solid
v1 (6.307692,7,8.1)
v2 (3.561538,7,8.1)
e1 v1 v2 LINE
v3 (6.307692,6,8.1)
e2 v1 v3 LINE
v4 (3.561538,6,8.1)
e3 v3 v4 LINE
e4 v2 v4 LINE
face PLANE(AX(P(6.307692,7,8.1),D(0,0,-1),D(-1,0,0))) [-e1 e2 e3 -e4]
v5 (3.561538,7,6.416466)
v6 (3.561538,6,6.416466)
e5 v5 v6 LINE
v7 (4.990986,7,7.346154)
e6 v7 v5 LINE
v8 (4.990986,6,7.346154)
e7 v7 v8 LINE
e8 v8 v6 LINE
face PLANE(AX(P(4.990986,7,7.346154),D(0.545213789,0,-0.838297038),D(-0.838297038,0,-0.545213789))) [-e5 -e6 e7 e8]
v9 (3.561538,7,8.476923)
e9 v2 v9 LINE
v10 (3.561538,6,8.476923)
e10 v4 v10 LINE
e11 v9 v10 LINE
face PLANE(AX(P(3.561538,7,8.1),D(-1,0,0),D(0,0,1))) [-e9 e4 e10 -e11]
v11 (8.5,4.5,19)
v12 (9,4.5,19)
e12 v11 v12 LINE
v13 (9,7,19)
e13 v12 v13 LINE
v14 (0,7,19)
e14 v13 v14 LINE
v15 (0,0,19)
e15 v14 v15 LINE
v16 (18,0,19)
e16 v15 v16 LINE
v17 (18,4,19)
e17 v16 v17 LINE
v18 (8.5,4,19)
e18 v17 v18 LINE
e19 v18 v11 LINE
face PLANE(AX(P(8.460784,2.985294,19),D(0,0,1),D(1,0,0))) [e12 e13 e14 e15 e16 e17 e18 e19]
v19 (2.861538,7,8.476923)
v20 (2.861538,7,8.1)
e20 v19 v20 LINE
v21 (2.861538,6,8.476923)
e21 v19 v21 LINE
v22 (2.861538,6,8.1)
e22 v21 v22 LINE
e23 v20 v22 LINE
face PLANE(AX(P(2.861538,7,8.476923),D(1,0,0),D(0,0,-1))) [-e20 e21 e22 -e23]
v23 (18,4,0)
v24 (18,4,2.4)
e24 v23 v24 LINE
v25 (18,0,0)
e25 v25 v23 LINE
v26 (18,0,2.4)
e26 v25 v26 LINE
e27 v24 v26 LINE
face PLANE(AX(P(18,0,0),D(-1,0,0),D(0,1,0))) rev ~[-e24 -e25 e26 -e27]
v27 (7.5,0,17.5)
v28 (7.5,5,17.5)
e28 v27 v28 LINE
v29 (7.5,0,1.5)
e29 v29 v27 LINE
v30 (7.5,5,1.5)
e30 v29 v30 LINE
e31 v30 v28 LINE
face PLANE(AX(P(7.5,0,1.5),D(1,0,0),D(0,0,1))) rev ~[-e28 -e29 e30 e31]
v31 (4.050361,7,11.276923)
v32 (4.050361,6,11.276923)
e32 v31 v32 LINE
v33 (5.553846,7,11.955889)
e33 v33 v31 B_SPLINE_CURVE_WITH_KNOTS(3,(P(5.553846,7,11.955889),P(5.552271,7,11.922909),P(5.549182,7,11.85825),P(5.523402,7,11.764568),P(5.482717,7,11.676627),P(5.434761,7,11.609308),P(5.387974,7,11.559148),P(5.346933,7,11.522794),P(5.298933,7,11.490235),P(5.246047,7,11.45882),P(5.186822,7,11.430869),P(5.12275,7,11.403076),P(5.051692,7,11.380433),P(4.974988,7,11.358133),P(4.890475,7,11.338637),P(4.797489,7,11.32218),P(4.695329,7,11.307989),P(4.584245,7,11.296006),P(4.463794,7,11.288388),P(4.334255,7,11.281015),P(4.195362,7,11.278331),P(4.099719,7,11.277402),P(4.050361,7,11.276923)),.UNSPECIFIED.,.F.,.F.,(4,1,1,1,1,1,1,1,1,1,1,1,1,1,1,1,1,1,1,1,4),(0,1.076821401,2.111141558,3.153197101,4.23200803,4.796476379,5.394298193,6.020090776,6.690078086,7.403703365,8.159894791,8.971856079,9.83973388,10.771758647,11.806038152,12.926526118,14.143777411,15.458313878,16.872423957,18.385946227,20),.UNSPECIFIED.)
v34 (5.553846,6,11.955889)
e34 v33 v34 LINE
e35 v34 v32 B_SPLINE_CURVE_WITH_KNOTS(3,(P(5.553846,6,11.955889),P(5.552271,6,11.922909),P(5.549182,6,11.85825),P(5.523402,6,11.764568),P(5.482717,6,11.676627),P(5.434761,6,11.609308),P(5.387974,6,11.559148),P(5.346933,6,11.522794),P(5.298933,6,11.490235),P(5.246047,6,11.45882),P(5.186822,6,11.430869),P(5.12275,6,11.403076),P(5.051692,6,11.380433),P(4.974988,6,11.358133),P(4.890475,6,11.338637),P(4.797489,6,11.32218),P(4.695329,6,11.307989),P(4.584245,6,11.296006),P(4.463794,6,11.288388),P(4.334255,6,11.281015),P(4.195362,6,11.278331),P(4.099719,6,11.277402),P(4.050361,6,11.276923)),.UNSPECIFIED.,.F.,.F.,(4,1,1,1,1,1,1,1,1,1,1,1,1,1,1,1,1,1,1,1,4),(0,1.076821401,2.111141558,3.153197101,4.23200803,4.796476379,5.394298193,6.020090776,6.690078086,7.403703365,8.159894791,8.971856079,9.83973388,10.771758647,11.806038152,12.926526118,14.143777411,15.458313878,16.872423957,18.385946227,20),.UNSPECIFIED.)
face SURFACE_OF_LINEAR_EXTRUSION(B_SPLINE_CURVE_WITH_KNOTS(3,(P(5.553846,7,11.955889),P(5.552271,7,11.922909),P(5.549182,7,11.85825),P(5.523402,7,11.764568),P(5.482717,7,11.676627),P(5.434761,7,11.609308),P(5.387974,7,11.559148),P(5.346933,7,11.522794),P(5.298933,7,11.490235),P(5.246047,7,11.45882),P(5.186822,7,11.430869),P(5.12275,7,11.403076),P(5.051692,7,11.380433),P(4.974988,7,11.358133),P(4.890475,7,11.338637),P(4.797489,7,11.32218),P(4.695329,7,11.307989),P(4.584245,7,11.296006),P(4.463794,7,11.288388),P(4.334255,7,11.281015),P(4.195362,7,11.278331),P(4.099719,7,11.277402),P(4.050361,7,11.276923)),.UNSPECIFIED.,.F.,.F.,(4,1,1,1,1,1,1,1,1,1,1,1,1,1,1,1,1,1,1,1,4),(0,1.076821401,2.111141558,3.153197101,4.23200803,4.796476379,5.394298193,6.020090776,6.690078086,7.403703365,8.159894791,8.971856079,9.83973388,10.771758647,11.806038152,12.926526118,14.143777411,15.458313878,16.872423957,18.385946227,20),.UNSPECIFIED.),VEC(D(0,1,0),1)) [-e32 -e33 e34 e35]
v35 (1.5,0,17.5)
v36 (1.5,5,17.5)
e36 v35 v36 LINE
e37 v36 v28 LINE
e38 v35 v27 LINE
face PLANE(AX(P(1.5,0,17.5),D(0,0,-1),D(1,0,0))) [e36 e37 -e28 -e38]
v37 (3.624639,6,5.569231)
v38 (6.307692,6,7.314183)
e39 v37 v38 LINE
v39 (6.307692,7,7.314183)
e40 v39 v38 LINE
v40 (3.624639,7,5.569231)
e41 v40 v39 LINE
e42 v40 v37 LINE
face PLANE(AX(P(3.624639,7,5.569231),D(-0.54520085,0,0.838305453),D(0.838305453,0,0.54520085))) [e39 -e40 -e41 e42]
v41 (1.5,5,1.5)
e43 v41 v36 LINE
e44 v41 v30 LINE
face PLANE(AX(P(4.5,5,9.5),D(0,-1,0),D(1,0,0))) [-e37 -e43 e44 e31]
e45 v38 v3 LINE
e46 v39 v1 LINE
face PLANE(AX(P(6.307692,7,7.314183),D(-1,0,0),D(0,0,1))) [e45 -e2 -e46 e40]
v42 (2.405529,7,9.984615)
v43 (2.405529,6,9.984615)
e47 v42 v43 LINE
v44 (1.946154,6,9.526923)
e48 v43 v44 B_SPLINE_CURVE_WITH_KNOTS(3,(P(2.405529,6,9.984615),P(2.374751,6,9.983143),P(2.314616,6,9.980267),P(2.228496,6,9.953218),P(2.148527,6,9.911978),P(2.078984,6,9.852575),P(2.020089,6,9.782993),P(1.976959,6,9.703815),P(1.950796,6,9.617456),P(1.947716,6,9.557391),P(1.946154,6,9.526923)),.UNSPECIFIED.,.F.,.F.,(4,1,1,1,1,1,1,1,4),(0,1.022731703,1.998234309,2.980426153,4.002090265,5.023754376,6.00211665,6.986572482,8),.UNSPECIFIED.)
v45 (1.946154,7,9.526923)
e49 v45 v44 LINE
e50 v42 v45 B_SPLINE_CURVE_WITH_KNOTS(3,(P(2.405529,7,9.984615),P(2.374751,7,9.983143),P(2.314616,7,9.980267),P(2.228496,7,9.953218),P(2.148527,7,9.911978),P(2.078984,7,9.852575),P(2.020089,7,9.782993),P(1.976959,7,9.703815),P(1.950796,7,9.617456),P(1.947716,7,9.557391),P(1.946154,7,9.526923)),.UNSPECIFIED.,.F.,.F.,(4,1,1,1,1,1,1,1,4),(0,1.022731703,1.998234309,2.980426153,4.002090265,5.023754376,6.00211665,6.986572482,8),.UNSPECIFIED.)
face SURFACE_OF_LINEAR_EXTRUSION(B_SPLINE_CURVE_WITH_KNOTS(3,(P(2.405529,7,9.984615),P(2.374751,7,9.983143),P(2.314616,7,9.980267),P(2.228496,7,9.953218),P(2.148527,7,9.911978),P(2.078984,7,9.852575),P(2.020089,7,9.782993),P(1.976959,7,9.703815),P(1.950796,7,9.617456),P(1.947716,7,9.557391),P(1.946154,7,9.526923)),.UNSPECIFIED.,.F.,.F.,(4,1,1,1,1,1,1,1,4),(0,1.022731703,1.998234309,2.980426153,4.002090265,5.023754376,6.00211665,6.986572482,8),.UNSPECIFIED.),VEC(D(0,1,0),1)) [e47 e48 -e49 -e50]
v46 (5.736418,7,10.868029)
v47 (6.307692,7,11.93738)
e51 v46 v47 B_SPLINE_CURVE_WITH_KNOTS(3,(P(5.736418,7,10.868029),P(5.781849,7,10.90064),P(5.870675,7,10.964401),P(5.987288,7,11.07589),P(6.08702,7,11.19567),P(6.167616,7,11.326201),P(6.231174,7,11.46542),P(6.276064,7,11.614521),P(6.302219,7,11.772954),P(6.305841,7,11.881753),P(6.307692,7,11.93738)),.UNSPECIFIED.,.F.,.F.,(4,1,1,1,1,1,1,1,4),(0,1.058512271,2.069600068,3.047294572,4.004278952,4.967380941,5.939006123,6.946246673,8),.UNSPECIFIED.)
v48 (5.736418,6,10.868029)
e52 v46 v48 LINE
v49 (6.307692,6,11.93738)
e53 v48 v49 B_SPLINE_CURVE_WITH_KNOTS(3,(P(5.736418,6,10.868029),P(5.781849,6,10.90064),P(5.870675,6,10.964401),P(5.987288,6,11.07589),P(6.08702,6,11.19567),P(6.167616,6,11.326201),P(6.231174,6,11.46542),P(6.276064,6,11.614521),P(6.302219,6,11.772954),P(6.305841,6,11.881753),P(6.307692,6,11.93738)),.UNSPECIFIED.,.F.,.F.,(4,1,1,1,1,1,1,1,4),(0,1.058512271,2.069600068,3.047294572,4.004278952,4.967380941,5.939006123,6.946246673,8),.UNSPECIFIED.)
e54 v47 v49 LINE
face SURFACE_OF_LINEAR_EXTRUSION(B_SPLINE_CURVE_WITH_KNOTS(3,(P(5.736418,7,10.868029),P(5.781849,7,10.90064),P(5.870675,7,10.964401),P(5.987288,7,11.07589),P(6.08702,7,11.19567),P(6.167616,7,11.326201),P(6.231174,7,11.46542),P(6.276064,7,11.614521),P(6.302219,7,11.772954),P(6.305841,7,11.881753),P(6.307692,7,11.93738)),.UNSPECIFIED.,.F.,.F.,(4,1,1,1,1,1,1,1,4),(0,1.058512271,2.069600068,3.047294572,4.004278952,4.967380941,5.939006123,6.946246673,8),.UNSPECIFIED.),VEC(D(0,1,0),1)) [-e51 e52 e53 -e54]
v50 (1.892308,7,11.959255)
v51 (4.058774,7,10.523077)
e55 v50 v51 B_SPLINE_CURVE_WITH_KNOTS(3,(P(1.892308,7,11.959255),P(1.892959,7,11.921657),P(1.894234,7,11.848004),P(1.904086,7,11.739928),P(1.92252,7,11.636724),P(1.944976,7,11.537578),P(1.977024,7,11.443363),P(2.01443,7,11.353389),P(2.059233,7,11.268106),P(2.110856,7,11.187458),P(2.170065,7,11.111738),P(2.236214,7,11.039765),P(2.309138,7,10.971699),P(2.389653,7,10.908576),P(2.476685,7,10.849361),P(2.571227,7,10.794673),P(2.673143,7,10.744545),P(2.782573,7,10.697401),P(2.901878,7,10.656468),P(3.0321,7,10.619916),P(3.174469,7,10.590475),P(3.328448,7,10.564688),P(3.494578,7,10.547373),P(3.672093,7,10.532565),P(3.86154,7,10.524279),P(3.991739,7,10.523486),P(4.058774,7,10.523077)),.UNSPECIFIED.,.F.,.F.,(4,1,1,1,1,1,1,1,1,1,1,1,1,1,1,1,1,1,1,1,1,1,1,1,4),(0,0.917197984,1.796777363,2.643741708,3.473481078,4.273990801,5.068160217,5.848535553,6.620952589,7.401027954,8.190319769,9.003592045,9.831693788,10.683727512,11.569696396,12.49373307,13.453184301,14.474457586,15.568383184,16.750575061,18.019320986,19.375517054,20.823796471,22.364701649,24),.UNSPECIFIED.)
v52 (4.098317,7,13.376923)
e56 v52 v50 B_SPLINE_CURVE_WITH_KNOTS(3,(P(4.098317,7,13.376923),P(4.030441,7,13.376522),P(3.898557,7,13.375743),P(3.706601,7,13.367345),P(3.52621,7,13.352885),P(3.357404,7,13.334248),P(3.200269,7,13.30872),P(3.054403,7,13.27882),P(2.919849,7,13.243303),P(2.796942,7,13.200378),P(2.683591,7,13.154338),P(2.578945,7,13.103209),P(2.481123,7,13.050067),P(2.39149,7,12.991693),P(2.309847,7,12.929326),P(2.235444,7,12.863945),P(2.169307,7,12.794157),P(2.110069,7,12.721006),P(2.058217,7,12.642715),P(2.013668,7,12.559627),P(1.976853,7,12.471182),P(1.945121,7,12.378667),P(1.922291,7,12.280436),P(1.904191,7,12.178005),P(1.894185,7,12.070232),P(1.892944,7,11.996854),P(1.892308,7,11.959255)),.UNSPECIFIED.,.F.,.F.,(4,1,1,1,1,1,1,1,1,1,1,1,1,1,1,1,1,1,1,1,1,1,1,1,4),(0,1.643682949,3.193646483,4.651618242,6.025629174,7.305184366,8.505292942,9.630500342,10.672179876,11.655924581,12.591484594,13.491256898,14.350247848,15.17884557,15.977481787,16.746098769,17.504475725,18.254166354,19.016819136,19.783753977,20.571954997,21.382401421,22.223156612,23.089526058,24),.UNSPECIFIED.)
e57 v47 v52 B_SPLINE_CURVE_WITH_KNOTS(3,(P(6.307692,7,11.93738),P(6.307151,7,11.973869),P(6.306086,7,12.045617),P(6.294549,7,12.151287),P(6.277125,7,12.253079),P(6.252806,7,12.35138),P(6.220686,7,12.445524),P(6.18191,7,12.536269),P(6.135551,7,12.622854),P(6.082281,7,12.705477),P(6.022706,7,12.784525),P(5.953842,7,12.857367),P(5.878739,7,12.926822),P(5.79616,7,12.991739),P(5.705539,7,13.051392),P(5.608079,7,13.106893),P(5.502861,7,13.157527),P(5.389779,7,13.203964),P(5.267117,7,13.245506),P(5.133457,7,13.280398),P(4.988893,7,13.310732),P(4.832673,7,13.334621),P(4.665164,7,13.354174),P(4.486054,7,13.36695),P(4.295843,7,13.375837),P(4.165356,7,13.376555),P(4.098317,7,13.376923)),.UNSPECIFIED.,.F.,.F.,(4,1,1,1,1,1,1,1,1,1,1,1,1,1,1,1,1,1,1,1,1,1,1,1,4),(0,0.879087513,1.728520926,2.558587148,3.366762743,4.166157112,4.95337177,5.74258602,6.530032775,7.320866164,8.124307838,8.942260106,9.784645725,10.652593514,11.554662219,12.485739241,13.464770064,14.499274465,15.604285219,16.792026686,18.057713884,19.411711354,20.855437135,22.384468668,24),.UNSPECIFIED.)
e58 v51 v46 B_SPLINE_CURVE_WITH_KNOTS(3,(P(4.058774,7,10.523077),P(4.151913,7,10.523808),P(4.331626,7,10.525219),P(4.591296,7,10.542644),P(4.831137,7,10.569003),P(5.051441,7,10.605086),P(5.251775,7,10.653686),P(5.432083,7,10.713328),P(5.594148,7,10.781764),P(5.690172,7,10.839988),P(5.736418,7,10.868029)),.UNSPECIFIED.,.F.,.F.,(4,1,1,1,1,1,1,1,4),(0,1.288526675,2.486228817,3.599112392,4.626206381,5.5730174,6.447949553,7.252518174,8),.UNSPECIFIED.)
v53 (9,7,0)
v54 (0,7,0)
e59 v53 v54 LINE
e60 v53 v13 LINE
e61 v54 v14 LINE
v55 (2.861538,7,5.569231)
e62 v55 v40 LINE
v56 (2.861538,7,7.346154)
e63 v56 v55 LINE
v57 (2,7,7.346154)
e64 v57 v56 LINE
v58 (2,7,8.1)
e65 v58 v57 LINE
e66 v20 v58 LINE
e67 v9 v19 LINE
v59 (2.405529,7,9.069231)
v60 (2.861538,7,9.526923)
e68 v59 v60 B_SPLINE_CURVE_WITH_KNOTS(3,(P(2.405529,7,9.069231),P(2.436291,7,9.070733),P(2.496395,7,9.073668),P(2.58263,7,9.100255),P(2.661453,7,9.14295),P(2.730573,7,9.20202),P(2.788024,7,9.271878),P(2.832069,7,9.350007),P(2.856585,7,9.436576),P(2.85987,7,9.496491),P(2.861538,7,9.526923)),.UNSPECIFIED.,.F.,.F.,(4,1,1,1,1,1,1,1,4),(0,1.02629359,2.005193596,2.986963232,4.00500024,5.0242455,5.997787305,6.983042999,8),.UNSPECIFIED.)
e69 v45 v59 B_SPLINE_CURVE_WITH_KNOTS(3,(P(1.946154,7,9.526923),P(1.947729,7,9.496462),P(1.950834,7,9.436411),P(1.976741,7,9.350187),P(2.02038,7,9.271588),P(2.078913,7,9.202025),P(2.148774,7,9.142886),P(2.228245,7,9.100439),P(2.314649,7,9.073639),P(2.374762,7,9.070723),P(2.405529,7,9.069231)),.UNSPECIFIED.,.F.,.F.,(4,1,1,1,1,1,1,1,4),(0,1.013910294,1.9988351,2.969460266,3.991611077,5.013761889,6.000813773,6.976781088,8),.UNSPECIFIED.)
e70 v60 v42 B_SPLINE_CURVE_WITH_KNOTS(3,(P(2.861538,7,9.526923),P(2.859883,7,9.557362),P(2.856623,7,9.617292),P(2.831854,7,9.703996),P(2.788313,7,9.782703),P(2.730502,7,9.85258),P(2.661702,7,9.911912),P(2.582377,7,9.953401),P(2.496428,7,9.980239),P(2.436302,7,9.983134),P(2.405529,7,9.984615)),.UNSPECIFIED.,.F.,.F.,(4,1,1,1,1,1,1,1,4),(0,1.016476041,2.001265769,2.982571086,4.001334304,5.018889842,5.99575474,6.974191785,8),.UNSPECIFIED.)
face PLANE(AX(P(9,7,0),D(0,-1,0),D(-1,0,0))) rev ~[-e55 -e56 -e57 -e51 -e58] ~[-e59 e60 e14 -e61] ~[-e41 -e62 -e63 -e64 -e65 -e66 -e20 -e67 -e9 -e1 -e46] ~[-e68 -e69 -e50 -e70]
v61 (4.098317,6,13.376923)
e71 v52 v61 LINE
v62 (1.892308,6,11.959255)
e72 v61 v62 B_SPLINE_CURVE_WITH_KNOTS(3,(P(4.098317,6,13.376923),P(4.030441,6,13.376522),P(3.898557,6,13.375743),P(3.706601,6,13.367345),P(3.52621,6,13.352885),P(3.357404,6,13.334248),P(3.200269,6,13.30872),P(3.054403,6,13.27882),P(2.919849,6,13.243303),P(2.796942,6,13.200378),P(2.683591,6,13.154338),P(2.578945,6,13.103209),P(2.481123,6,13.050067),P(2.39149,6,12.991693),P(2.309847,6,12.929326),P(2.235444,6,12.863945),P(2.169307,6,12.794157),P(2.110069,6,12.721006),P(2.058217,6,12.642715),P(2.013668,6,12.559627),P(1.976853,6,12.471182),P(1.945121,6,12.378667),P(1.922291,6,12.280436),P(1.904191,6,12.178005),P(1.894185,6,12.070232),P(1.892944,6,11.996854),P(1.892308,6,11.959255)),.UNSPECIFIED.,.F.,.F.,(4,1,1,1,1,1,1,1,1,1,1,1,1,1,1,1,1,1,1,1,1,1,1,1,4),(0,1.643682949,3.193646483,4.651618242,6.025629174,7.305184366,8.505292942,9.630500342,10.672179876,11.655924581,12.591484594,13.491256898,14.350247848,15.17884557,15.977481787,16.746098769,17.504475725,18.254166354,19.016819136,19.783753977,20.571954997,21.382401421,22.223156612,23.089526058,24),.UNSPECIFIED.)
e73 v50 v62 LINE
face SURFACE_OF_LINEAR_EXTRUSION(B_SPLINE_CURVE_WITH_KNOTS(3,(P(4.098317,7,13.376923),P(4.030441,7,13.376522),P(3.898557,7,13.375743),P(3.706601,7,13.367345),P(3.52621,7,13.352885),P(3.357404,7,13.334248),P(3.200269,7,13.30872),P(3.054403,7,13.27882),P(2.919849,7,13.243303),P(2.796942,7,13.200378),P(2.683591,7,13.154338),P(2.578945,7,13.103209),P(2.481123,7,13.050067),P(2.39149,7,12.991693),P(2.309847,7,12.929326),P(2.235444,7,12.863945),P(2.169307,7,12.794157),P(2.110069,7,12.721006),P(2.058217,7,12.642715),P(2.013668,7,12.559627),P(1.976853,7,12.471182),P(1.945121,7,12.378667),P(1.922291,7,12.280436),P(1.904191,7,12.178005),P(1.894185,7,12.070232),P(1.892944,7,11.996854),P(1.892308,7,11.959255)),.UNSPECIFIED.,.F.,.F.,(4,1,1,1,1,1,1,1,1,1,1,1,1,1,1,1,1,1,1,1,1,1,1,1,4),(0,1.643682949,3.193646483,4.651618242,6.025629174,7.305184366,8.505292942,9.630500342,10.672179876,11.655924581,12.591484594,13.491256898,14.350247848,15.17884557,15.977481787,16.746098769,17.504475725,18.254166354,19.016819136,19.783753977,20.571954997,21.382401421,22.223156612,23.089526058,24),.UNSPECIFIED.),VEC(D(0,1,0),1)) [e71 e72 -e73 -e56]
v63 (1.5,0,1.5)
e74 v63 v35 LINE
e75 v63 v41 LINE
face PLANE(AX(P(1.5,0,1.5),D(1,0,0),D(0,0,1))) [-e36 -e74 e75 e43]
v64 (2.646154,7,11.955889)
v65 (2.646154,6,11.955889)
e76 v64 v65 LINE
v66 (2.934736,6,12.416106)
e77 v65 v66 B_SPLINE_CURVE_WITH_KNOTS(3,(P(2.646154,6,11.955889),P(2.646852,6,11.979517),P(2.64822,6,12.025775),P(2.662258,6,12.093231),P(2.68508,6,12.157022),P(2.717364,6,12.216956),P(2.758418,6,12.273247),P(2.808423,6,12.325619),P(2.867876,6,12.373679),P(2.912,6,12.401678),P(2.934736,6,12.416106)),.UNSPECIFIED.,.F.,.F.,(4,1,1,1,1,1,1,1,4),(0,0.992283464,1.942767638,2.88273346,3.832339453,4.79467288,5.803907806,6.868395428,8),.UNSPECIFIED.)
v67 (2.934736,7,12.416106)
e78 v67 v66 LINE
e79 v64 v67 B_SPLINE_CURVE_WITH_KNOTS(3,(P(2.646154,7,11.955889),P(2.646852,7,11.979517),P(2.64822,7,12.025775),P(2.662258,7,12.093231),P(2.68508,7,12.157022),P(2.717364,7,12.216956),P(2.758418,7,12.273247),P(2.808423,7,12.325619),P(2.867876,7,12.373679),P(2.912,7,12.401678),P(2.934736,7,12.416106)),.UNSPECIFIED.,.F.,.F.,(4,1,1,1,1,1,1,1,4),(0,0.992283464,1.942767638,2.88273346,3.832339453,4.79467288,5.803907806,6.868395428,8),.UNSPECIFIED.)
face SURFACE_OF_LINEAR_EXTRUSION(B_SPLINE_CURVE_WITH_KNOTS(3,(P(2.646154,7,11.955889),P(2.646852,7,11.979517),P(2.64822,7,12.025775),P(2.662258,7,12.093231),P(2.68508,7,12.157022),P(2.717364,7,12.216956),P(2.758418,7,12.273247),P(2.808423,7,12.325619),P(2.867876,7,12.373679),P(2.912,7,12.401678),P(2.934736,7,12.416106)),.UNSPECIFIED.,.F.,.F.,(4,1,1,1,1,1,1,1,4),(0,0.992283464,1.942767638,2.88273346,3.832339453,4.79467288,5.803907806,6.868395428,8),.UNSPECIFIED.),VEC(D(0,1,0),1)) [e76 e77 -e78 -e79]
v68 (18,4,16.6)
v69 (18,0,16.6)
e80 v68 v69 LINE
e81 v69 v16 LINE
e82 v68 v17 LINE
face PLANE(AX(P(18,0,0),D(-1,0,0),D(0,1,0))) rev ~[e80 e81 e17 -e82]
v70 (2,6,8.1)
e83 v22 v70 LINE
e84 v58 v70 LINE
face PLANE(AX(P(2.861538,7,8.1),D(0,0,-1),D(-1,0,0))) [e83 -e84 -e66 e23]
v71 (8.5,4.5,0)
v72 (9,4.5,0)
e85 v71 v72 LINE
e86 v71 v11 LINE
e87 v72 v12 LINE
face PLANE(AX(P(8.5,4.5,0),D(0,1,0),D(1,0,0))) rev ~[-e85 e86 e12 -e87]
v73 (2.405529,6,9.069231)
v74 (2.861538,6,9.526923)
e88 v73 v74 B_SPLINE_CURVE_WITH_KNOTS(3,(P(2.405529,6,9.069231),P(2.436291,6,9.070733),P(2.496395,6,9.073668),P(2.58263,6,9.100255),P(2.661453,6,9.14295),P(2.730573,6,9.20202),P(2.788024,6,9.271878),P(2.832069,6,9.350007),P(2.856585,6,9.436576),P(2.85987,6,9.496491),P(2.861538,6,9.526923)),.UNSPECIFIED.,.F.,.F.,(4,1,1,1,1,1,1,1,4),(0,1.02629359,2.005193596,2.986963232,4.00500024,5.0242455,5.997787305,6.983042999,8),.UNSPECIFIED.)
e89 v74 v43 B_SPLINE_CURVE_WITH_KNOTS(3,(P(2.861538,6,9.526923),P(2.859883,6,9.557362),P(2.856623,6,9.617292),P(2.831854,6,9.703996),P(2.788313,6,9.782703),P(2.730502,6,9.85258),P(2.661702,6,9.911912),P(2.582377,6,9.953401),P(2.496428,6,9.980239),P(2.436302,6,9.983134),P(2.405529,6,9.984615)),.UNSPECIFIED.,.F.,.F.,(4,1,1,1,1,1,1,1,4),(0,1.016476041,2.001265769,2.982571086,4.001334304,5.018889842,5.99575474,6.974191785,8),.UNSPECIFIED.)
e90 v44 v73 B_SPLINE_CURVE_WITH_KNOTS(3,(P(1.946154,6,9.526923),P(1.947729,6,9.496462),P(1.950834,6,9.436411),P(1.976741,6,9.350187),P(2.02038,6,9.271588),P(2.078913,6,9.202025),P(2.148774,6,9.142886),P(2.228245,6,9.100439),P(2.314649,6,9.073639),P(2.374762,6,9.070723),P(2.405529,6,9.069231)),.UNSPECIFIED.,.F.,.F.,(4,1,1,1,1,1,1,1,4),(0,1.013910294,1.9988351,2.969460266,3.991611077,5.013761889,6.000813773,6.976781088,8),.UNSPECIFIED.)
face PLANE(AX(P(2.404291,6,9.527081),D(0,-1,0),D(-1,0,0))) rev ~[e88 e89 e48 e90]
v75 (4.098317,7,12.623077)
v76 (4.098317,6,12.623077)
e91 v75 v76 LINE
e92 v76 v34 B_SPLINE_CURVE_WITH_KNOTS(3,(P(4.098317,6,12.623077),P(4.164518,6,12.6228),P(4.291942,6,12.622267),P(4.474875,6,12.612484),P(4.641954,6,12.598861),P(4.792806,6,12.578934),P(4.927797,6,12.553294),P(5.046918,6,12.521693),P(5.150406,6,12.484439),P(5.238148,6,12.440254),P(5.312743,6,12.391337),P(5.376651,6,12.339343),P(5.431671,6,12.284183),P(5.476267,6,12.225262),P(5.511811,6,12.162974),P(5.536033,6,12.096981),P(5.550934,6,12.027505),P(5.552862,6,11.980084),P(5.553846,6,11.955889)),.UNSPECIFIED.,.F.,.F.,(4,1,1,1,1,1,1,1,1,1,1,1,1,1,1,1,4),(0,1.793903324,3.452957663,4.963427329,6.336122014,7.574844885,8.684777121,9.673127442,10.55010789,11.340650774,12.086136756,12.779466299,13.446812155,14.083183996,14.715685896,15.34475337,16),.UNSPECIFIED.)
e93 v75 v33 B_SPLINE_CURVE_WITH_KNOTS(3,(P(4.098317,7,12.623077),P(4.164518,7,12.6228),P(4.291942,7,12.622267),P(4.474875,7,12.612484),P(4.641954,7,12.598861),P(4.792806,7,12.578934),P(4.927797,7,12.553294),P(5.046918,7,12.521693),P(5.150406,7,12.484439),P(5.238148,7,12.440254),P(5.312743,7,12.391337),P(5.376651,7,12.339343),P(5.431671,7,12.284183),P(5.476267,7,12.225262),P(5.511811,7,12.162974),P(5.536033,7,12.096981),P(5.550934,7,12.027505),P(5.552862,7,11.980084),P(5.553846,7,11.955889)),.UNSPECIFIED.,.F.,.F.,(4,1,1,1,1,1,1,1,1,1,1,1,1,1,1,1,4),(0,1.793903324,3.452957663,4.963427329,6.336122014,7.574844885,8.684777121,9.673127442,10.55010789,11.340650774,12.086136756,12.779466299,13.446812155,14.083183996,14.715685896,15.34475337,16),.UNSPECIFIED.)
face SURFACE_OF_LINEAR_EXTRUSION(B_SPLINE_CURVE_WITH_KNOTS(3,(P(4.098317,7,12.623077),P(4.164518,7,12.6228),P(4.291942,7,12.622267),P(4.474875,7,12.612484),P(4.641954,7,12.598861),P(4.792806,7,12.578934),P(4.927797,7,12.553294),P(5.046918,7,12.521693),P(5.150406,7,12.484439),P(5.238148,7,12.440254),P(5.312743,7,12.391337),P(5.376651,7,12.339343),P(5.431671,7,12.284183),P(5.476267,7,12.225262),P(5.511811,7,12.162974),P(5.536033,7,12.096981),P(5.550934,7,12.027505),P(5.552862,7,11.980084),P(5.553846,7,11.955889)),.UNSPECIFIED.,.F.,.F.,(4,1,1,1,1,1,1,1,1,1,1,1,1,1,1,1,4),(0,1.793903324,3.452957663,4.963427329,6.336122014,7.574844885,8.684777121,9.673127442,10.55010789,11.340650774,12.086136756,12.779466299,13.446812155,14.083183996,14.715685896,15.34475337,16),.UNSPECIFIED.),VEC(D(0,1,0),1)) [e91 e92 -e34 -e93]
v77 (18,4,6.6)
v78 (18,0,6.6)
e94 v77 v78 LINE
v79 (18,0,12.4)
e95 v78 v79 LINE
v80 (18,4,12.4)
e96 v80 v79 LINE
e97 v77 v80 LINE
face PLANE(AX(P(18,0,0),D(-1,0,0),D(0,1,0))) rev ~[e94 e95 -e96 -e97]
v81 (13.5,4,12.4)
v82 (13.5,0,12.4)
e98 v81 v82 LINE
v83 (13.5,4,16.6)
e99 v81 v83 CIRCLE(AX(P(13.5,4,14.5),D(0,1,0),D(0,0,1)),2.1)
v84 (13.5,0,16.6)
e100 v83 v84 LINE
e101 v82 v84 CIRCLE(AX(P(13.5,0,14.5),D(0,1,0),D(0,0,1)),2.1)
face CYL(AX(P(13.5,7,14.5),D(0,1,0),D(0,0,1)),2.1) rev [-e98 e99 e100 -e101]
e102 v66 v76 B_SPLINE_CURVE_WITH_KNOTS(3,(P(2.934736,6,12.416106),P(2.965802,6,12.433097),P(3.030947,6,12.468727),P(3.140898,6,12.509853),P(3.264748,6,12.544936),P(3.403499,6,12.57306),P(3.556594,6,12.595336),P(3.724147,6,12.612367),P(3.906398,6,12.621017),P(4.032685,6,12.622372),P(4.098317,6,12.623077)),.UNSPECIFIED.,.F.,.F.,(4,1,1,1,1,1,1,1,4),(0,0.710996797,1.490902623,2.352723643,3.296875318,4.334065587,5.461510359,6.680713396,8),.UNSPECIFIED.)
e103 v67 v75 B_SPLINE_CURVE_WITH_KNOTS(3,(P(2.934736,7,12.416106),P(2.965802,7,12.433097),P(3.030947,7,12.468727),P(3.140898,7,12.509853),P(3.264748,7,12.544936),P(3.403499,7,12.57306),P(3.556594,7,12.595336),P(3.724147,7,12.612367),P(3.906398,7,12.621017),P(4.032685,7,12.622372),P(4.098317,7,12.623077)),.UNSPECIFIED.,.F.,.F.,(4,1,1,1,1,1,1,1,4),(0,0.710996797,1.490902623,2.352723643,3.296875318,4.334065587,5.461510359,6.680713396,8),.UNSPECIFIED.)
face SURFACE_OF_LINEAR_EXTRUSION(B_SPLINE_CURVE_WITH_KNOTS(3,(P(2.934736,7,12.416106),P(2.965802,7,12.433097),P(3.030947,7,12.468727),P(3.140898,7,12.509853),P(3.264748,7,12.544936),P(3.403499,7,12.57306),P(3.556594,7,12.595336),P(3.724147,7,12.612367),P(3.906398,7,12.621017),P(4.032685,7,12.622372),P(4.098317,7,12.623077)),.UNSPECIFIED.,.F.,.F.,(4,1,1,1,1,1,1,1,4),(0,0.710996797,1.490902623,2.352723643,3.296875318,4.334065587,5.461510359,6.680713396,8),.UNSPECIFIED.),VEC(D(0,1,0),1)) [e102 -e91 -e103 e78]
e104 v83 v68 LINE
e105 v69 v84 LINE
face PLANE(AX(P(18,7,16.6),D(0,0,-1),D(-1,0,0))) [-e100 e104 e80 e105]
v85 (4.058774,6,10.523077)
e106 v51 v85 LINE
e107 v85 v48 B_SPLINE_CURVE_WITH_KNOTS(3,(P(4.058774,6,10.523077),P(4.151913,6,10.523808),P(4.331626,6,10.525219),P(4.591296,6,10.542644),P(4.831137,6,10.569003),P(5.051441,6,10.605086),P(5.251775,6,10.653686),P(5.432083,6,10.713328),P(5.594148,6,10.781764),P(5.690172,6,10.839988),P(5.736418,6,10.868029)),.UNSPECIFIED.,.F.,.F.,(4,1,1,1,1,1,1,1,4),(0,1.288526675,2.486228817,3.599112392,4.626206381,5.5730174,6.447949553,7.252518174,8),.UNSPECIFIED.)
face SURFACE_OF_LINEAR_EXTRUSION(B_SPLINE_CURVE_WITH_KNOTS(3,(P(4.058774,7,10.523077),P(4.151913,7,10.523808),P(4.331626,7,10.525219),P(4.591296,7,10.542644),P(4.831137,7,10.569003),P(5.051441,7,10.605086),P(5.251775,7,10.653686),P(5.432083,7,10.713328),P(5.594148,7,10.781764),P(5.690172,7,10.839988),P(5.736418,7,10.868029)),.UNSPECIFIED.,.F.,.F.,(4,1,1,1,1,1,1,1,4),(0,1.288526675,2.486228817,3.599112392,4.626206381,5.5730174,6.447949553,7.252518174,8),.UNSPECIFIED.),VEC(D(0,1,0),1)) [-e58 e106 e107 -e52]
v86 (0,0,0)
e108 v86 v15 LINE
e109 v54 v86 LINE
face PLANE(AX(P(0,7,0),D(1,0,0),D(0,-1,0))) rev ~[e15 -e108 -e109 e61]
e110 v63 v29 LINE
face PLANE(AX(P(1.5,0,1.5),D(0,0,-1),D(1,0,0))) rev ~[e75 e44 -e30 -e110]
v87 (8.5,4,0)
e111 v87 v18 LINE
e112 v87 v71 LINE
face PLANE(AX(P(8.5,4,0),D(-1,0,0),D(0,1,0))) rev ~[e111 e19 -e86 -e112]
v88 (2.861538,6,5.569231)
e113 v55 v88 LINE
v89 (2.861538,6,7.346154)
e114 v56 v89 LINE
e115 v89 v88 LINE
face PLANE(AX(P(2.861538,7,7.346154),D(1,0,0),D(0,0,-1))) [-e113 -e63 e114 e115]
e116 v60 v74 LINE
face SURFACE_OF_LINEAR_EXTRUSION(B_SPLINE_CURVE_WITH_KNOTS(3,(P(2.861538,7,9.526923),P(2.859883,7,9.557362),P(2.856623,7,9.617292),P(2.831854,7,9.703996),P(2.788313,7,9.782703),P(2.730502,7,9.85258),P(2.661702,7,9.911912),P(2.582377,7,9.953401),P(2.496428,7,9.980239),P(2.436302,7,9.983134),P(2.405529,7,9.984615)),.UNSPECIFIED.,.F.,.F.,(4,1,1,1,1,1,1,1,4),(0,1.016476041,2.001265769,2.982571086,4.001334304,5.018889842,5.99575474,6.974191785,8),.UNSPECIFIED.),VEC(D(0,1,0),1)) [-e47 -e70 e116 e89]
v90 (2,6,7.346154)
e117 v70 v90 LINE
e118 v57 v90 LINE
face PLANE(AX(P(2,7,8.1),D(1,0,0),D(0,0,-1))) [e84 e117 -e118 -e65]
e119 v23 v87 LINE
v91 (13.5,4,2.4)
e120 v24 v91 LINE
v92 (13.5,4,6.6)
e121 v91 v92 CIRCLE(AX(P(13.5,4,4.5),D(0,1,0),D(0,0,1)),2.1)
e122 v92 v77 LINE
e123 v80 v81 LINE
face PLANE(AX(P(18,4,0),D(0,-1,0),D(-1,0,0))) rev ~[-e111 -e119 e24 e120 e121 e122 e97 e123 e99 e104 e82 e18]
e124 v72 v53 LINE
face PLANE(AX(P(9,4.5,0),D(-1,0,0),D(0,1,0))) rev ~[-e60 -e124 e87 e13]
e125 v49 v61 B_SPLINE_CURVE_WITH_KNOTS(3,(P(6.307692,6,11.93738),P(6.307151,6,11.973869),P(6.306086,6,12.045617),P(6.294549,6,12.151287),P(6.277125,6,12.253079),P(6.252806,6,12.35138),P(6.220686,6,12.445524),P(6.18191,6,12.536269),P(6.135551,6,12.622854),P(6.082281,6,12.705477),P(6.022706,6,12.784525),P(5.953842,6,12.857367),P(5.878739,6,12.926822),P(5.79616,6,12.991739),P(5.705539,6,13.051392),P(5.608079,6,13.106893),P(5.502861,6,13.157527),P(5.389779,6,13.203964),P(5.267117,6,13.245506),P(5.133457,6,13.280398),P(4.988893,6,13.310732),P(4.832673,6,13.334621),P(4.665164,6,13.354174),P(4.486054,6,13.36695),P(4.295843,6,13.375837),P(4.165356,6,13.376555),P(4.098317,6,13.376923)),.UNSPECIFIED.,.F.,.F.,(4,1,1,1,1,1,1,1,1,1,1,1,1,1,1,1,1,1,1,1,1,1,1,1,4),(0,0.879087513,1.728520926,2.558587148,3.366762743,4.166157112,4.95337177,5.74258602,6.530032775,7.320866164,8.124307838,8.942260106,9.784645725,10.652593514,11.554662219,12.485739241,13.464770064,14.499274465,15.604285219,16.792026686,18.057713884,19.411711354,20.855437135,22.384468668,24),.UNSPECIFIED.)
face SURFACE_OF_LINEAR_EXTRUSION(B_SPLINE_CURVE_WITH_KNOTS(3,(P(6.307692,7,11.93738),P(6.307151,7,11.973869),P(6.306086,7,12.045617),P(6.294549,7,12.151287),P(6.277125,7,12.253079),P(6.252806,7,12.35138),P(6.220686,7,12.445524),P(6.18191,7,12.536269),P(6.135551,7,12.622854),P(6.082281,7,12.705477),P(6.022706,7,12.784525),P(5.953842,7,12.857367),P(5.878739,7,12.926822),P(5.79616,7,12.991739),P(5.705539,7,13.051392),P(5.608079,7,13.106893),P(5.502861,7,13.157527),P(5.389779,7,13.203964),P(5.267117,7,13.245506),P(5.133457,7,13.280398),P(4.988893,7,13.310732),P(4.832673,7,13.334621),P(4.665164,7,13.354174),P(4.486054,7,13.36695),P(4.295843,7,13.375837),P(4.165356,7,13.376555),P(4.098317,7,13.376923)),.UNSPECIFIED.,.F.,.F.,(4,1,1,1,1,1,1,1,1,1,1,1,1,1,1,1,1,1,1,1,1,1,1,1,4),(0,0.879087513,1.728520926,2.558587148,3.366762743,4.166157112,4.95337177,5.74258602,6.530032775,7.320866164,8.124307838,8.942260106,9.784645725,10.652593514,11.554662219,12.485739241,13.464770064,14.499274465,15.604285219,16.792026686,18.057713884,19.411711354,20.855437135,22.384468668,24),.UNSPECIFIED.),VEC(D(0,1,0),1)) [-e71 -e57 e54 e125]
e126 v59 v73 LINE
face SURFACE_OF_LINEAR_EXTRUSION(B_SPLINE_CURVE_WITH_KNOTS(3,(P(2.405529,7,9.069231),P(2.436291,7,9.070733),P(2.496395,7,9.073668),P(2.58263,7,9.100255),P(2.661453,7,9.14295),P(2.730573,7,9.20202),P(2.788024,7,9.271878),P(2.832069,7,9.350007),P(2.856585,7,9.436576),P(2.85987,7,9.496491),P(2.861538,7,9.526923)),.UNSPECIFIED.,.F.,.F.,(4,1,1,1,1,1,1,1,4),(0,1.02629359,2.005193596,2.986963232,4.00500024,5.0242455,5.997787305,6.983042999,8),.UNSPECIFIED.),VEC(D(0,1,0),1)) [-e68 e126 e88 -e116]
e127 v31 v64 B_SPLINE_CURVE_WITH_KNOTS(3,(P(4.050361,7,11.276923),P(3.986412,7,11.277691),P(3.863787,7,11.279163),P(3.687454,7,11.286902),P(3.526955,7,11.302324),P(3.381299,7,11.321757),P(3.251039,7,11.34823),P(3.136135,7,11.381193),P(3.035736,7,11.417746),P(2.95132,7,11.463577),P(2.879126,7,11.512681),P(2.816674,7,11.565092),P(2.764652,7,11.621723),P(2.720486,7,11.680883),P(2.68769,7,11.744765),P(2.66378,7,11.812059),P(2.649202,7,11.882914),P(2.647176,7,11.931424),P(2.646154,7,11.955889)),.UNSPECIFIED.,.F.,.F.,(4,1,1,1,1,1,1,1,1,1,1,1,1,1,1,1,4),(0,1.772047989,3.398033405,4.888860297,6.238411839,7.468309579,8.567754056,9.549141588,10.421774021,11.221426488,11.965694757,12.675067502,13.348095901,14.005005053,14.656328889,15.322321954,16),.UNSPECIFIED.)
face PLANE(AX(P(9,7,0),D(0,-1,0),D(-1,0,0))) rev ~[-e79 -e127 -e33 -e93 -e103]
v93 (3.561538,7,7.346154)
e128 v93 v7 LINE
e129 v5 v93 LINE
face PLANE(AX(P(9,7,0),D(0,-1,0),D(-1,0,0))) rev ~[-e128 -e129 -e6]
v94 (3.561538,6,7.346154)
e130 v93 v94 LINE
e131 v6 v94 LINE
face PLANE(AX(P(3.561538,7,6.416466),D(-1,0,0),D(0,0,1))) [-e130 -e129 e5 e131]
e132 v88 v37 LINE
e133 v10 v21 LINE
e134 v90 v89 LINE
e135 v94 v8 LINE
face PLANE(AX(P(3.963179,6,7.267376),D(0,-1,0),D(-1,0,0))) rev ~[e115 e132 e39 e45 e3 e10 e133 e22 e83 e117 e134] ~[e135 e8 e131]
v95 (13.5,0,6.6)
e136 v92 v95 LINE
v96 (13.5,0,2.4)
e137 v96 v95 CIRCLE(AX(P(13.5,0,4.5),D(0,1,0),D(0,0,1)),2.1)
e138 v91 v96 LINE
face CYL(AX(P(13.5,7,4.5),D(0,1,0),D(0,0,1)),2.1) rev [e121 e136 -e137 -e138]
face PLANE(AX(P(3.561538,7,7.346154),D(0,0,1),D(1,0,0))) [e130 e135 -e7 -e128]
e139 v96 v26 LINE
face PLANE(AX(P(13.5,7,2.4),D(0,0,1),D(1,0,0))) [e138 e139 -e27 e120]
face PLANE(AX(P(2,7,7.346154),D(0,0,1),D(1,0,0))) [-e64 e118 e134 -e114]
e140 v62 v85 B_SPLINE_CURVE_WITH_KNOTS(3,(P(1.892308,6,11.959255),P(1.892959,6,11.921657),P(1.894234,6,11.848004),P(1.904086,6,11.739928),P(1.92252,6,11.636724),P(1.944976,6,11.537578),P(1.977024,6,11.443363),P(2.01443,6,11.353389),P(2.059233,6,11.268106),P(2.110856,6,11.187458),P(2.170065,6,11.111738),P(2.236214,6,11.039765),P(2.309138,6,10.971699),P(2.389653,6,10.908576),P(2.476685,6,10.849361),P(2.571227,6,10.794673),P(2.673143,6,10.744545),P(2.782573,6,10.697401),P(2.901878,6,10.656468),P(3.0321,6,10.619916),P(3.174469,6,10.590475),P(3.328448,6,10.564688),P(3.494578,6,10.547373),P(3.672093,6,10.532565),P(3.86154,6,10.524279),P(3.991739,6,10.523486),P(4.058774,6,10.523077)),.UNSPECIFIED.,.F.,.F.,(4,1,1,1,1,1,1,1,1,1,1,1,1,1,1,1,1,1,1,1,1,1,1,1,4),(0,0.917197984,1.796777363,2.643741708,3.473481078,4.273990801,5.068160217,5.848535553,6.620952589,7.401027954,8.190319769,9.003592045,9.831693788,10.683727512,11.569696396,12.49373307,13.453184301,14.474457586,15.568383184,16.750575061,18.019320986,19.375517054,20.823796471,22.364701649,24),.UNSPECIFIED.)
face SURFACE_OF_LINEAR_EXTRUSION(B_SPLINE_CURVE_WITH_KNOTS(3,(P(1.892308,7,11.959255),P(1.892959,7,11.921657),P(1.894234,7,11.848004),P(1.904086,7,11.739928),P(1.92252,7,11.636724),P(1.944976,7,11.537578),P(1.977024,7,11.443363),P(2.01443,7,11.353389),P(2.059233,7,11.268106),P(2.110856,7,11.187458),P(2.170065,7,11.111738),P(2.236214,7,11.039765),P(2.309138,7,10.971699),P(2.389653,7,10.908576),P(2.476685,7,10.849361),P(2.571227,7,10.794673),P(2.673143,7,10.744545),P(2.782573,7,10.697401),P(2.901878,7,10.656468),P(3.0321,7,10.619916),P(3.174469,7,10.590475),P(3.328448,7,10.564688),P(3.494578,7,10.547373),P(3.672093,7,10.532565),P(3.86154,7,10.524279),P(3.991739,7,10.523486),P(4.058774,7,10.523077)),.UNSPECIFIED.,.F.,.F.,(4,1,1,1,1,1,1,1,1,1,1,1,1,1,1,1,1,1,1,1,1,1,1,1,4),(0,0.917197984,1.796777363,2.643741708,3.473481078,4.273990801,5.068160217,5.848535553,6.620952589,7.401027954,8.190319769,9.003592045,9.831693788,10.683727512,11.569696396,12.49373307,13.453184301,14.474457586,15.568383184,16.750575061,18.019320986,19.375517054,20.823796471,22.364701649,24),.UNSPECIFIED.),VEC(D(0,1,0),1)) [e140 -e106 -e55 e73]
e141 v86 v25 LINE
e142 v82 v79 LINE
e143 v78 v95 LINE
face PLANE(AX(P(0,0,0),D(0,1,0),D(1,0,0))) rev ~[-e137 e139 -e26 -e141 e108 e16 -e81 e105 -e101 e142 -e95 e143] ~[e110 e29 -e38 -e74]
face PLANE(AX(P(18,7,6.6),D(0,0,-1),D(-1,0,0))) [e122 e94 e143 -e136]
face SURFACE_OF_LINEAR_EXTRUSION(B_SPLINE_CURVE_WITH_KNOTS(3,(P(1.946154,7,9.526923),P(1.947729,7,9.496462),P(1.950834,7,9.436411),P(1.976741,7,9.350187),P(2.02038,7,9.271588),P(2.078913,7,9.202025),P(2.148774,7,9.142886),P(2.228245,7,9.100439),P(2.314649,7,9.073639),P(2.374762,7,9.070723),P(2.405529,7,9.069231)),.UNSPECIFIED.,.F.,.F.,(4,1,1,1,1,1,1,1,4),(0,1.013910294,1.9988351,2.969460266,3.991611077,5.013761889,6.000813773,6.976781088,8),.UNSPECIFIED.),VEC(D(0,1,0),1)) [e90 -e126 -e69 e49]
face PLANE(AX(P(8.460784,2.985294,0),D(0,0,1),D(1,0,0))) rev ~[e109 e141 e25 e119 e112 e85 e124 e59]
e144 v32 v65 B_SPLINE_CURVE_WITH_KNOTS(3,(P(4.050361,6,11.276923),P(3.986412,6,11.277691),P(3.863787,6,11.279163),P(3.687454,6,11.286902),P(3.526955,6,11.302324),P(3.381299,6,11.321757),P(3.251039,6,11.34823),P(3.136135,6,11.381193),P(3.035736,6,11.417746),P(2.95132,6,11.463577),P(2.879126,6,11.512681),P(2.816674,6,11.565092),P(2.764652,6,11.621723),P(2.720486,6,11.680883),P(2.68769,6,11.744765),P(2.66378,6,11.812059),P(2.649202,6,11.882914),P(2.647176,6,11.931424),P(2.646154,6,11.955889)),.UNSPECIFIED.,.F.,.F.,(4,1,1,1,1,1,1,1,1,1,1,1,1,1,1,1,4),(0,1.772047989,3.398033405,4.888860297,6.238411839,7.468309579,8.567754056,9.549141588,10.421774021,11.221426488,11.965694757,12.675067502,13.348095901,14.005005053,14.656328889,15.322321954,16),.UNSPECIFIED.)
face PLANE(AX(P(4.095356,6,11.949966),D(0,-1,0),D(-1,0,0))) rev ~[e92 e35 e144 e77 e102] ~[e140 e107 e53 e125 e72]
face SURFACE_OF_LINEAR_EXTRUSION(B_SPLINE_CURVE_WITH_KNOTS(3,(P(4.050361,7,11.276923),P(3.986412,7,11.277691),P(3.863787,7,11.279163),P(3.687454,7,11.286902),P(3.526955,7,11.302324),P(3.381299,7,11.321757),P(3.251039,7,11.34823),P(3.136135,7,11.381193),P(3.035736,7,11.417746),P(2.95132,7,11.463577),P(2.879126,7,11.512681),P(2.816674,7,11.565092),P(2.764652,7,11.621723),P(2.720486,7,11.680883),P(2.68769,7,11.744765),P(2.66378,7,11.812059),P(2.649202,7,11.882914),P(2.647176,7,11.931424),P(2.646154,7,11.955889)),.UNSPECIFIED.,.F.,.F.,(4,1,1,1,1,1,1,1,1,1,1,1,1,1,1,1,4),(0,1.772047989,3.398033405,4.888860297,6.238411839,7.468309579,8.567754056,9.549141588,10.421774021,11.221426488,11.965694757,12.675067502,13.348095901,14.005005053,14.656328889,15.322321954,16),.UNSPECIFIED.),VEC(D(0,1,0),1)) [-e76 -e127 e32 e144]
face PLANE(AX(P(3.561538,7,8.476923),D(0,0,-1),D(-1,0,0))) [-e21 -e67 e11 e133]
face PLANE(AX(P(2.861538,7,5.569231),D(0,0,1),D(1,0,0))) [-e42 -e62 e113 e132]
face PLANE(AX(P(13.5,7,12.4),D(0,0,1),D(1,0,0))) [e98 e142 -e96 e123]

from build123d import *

# Parameters (mm, degrees)
BOSS_EXTRUDE1_DEPTH = 19
CUT_EXTRUDE1_DEPTH  = 28.092434368
CUT_EXTRUDE2_DEPTH  = 1
SKETCH4_W           = 6
SKETCH4_H           = 16
CUT_EXTRUDE3_DEPTH  = 5


with BuildPart() as part:
    # Sketch1 → Boss-Extrude1 (new body)
    with BuildSketch(Plane.XY):
        Polygon((0, 0), (18, 0), (18, 4), (9, 4), (8.5, 4), (8.5, 4.5), (9, 4.5), (9, 7), (0, 7), align=None)
    extrude(amount=BOSS_EXTRUDE1_DEPTH)

    # Sketch2 → Cut-Extrude1 (cut, through all)
    with BuildSketch(Plane(origin=(0, 7, 0), x_dir=(1, 0, 0), z_dir=(0, 1, 0))):
        with BuildLine():
            Line((13.5, -2.4), (18, -2.4))
            Line((18, -2.4), (18, -6.6))
            Line((18, -6.6), (13.5, -6.6))
            ThreePointArc((13.5, -6.6), (11.4, -4.5), (13.5, -2.4))
        make_face()
        with BuildLine():
            Line((13.5, -12.4), (18, -12.4))
            Line((18, -12.4), (18, -16.6))
            Line((18, -16.6), (13.5, -16.6))
            ThreePointArc((13.5, -16.6), (11.4, -14.5), (13.5, -12.4))
        make_face()
    extrude(amount=-CUT_EXTRUDE1_DEPTH, mode=Mode.SUBTRACT)

    # Sketch3 → Cut-Extrude2 (cut)
    # profile 1 of 3: a face of its own
    with BuildSketch(Plane(origin=(0, 7, 0), x_dir=(1, 0, 0), z_dir=(0, 1, 0))):
        Polygon((6.307692308, -7.314182692), (6.307692308, -8.1), (3.561538462, -8.1), (3.561538462, -8.476923077), (2.861538462, -8.476923077), (2.861538462, -8.1), (2, -8.1), (2, -7.346153846), (2.861538462, -7.346153846), (2.861538462, -5.569230769), (3.624639423, -5.569230769), align=None)
        Polygon((3.561538462, -7.346153846), (4.990985577, -7.346153846), (3.561538462, -6.416466346), align=None, mode=Mode.SUBTRACT)
    # profile 2 of 3: a face of its own
    with BuildSketch(Plane(origin=(0, 7, 0), x_dir=(1, 0, 0), z_dir=(0, 1, 0))):
        with BuildLine():
            add(Edge.make_bspline(
                [(2.861538462, -9.526923077), (2.85988287, -9.557362204), (2.856623295, -9.617291589), (2.831853959, -9.703995704), (2.788312606, -9.782702644), (2.730502257, -9.85257974), (2.661701966, -9.911911527), (2.582376507, -9.953401025), (2.496427686, -9.98023852), (2.436302157, -9.983133621), (2.405528846, -9.984615385)],
                knots=[0, 0, 0, 0, 1.016476041, 2.001265769, 2.982571086, 4.001334304, 5.018889842, 5.99575474, 6.974191785, 8, 8, 8, 8], degree=3))
            add(Edge.make_bspline(
                [(2.405528846, -9.984615385), (2.374750787, -9.983143332), (2.31461598, -9.980267206), (2.228495667, -9.95321757), (2.148526587, -9.911977622), (2.078984136, -9.852574786), (2.020088959, -9.78299344), (1.976959039, -9.703815063), (1.950796284, -9.617456418), (1.947716214, -9.557391196), (1.946153846, -9.526923077)],
                knots=[0, 0, 0, 0, 1.022731703, 1.998234309, 2.980426153, 4.002090265, 5.023754376, 6.00211665, 6.986572482, 8, 8, 8, 8], degree=3))
            add(Edge.make_bspline(
                [(1.946153846, -9.526923077), (1.947729022, -9.496462175), (1.950834344, -9.436411182), (1.976740674, -9.350186567), (2.020380314, -9.271588463), (2.078913136, -9.202024595), (2.14877397, -9.142885964), (2.228244922, -9.100439216), (2.314648555, -9.073639214), (2.374761815, -9.070723224), (2.405528846, -9.069230769)],
                knots=[0, 0, 0, 0, 1.013910294, 1.9988351, 2.969460266, 3.991611077, 5.013761889, 6.000813773, 6.976781088, 8, 8, 8, 8], degree=3))
            add(Edge.make_bspline(
                [(2.405528846, -9.069230769), (2.436290937, -9.070733066), (2.496394544, -9.073668284), (2.582630141, -9.100255237), (2.661453239, -9.142949764), (2.730573405, -9.202019856), (2.788023525, -9.271877769), (2.832069332, -9.350006935), (2.856584954, -9.436576095), (2.859869955, -9.496491201), (2.861538462, -9.526923077)],
                knots=[0, 0, 0, 0, 1.02629359, 2.005193596, 2.986963232, 4.00500024, 5.0242455, 5.997787305, 6.983042999, 8, 8, 8, 8], degree=3))
        make_face()
    # profile 3 of 3: a face of its own
    with BuildSketch(Plane(origin=(0, 7, 0), x_dir=(1, 0, 0), z_dir=(0, 1, 0))):
        with BuildLine():
            add(Edge.make_bspline(
                [(6.307692308, -11.937379808), (6.307150683, -11.973869128), (6.306085705, -12.045616881), (6.29454866, -12.151287171), (6.277124504, -12.25307935), (6.252805809, -12.351380113), (6.220685788, -12.445523764), (6.18190987, -12.536269402), (6.135550949, -12.622853881), (6.082281439, -12.705477488), (6.02270567, -12.784525027), (5.953841518, -12.857366744), (5.878739381, -12.926822083), (5.796159568, -12.991739367), (5.705539209, -13.051391781), (5.608078808, -13.106892863), (5.502860985, -13.157526901), (5.389778503, -13.20396373), (5.267117399, -13.245505969), (5.133456997, -13.280398151), (4.988893108, -13.310732399), (4.832672601, -13.334621473), (4.665163984, -13.354174114), (4.486053808, -13.366949594), (4.295843307, -13.375837098), (4.16535578, -13.376554506), (4.098317308, -13.376923077)],
                knots=[0, 0, 0, 0, 0.879087513, 1.728520926, 2.558587148, 3.366762743, 4.166157112, 4.95337177, 5.74258602, 6.530032775, 7.320866164, 8.124307838, 8.942260106, 9.784645725, 10.652593514, 11.554662219, 12.485739241, 13.464770064, 14.499274465, 15.604285219, 16.792026686, 18.057713884, 19.411711354, 20.855437135, 22.384468668, 24, 24, 24, 24], degree=3))
            add(Edge.make_bspline(
                [(4.098317308, -13.376923077), (4.030440525, -13.37652196), (3.898557155, -13.375742597), (3.70660119, -13.367345458), (3.526210383, -13.3528853), (3.357403645, -13.334247649), (3.200269274, -13.308720394), (3.054403265, -13.278820445), (2.919848806, -13.243303124), (2.79694166, -13.200378221), (2.68359105, -13.154337682), (2.578944999, -13.103208582), (2.481123496, -13.050067474), (2.391489769, -12.991693005), (2.309846766, -12.929325786), (2.235444428, -12.863944923), (2.169307235, -12.794157234), (2.110069404, -12.7210064), (2.058216793, -12.642714885), (2.01366831, -12.55962707), (1.976853175, -12.471182306), (1.9451208, -12.378667246), (1.922290893, -12.280436063), (1.90419103, -12.178005479), (1.894184694, -12.070231506), (1.892943628, -11.99685416), (1.892307692, -11.959254808)],
                knots=[0, 0, 0, 0, 1.643682949, 3.193646483, 4.651618242, 6.025629174, 7.305184366, 8.505292942, 9.630500342, 10.672179876, 11.655924581, 12.591484594, 13.491256898, 14.350247848, 15.17884557, 15.977481787, 16.746098769, 17.504475725, 18.254166354, 19.016819136, 19.783753977, 20.571954997, 21.382401421, 22.223156612, 23.089526058, 24, 24, 24, 24], degree=3))
            add(Edge.make_bspline(
                [(1.892307692, -11.959254808), (1.892958632, -11.921657209), (1.894233814, -11.848004067), (1.904086281, -11.739928272), (1.922520224, -11.636723558), (1.944975925, -11.537578193), (1.977024282, -11.443362893), (2.014430371, -11.353389364), (2.059233294, -11.268105532), (2.110855853, -11.187457673), (2.170065111, -11.11173783), (2.236213665, -11.03976485), (2.309137681, -10.971699163), (2.389652904, -10.908575843), (2.476684941, -10.84936136), (2.571227482, -10.794672603), (2.673143257, -10.744544816), (2.782572889, -10.697400516), (2.901878097, -10.656467963), (3.032100284, -10.619915704), (3.174468576, -10.590475047), (3.328448015, -10.564687625), (3.494578206, -10.547373), (3.672092814, -10.532564683), (3.861539617, -10.524279313), (3.991739434, -10.523485583), (4.058774038, -10.523076923)],
                knots=[0, 0, 0, 0, 0.917197984, 1.796777363, 2.643741708, 3.473481078, 4.273990801, 5.068160217, 5.848535553, 6.620952589, 7.401027954, 8.190319769, 9.003592045, 9.831693788, 10.683727512, 11.569696396, 12.49373307, 13.453184301, 14.474457586, 15.568383184, 16.750575061, 18.019320986, 19.375517054, 20.823796471, 22.364701649, 24, 24, 24, 24], degree=3))
            add(Edge.make_bspline(
                [(4.058774038, -10.523076923), (4.151913091, -10.523808273), (4.331626093, -10.525219423), (4.591295751, -10.542644047), (4.83113749, -10.569002763), (5.051441104, -10.605085819), (5.251775391, -10.653685764), (5.432082806, -10.713328421), (5.594148159, -10.781764373), (5.690172203, -10.839987872), (5.736418269, -10.868028846)],
                knots=[0, 0, 0, 0, 1.288526675, 2.486228817, 3.599112392, 4.626206381, 5.5730174, 6.447949553, 7.252518174, 8, 8, 8, 8], degree=3))
            add(Edge.make_bspline(
                [(5.736418269, -10.868028846), (5.781849131, -10.900640072), (5.870675418, -10.964401446), (5.987287729, -11.07588999), (6.087020287, -11.195669914), (6.167616056, -11.326201431), (6.231173886, -11.46542013), (6.276064066, -11.614521274), (6.302219176, -11.772954258), (6.305840687, -11.881752831), (6.307692308, -11.937379808)],
                knots=[0, 0, 0, 0, 1.058512271, 2.069600068, 3.047294572, 4.004278952, 4.967380941, 5.939006123, 6.946246673, 8, 8, 8, 8], degree=3))
        make_face()
        with BuildLine():
            add(Edge.make_bspline(
                [(5.553846154, -11.955889423), (5.552270668, -11.922908887), (5.54918188, -11.858249528), (5.523401693, -11.764568479), (5.48271655, -11.676626924), (5.434760512, -11.609308285), (5.387973655, -11.559148094), (5.34693293, -11.522793846), (5.298932536, -11.490234906), (5.246047261, -11.458820008), (5.186821663, -11.430869169), (5.12274956, -11.403076295), (5.051691887, -11.380433104), (4.974987834, -11.358133021), (4.89047493, -11.338636996), (4.797488532, -11.322180048), (4.695329433, -11.307988824), (4.584245274, -11.296006011), (4.463793783, -11.288387596), (4.3342554, -11.281014932), (4.195362046, -11.278331006), (4.099719168, -11.277402337), (4.050360577, -11.276923077)],
                knots=[0, 0, 0, 0, 1.076821401, 2.111141558, 3.153197101, 4.23200803, 4.796476379, 5.394298193, 6.020090776, 6.690078086, 7.403703365, 8.159894791, 8.971856079, 9.83973388, 10.771758647, 11.806038152, 12.926526118, 14.143777411, 15.458313878, 16.872423957, 18.385946227, 20, 20, 20, 20], degree=3))
            add(Edge.make_bspline(
                [(4.050360577, -11.276923077), (3.986412475, -11.277690687), (3.863787247, -11.279162637), (3.687454343, -11.286901656), (3.526954651, -11.302324436), (3.381298609, -11.321757427), (3.251038899, -11.348230248), (3.136135085, -11.381192718), (3.035736471, -11.41774611), (2.951319527, -11.463577141), (2.879125714, -11.512681076), (2.816674456, -11.565091786), (2.764651799, -11.621723368), (2.720485601, -11.680883073), (2.687689615, -11.744764797), (2.663780285, -11.812058623), (2.649202201, -11.882913935), (2.647175838, -11.931423642), (2.646153846, -11.955889423)],
                knots=[0, 0, 0, 0, 1.772047989, 3.398033405, 4.888860297, 6.238411839, 7.468309579, 8.567754056, 9.549141588, 10.421774021, 11.221426488, 11.965694757, 12.675067502, 13.348095901, 14.005005053, 14.656328889, 15.322321954, 16, 16, 16, 16], degree=3))
            add(Edge.make_bspline(
                [(2.646153846, -11.955889423), (2.64685234, -11.979516527), (2.648219904, -12.025775459), (2.662257763, -12.093231342), (2.685080272, -12.157022417), (2.717364314, -12.216956081), (2.758418413, -12.273246707), (2.808422978, -12.325619182), (2.867876439, -12.373678523), (2.911999699, -12.401678113), (2.934735577, -12.416105769)],
                knots=[0, 0, 0, 0, 0.992283464, 1.942767638, 2.88273346, 3.832339453, 4.79467288, 5.803907806, 6.868395428, 8, 8, 8, 8], degree=3))
            add(Edge.make_bspline(
                [(2.934735577, -12.416105769), (2.965802388, -12.43309715), (3.030946973, -12.468726699), (3.140897888, -12.509852713), (3.264748166, -12.544936354), (3.403499208, -12.573060354), (3.556594281, -12.59533645), (3.724147171, -12.61236653), (3.906398045, -12.62101668), (4.032684545, -12.622372359), (4.098317308, -12.623076923)],
                knots=[0, 0, 0, 0, 0.710996797, 1.490902623, 2.352723643, 3.296875318, 4.334065587, 5.461510359, 6.680713396, 8, 8, 8, 8], degree=3))
            add(Edge.make_bspline(
                [(4.098317308, -12.623076923), (4.164517758, -12.622799909), (4.291942324, -12.622266703), (4.474875271, -12.612483906), (4.641954183, -12.598860635), (4.79280593, -12.578933654), (4.927797071, -12.55329418), (5.046917647, -12.521692777), (5.150406, -12.484439109), (5.238147698, -12.440254292), (5.312742503, -12.391337042), (5.37665067, -12.339343271), (5.431670617, -12.284183068), (5.476266621, -12.225262109), (5.511810773, -12.162973601), (5.536033359, -12.096981471), (5.55093428, -12.027505248), (5.552862428, -11.980083575), (5.553846154, -11.955889423)],
                knots=[0, 0, 0, 0, 1.793903324, 3.452957663, 4.963427329, 6.336122014, 7.574844885, 8.684777121, 9.673127442, 10.55010789, 11.340650774, 12.086136756, 12.779466299, 13.446812155, 14.083183996, 14.715685896, 15.34475337, 16, 16, 16, 16], degree=3))
        make_face(mode=Mode.SUBTRACT)
    extrude(amount=-CUT_EXTRUDE2_DEPTH, mode=Mode.SUBTRACT)

    # Sketch4 → Cut-Extrude3 (cut)
    with BuildSketch(Plane.XZ):
        with Locations((4.5, 9.5)):
            Rectangle(SKETCH4_W, SKETCH4_H)
    extrude(amount=-CUT_EXTRUDE3_DEPTH, mode=Mode.SUBTRACT)


solid = part.part
